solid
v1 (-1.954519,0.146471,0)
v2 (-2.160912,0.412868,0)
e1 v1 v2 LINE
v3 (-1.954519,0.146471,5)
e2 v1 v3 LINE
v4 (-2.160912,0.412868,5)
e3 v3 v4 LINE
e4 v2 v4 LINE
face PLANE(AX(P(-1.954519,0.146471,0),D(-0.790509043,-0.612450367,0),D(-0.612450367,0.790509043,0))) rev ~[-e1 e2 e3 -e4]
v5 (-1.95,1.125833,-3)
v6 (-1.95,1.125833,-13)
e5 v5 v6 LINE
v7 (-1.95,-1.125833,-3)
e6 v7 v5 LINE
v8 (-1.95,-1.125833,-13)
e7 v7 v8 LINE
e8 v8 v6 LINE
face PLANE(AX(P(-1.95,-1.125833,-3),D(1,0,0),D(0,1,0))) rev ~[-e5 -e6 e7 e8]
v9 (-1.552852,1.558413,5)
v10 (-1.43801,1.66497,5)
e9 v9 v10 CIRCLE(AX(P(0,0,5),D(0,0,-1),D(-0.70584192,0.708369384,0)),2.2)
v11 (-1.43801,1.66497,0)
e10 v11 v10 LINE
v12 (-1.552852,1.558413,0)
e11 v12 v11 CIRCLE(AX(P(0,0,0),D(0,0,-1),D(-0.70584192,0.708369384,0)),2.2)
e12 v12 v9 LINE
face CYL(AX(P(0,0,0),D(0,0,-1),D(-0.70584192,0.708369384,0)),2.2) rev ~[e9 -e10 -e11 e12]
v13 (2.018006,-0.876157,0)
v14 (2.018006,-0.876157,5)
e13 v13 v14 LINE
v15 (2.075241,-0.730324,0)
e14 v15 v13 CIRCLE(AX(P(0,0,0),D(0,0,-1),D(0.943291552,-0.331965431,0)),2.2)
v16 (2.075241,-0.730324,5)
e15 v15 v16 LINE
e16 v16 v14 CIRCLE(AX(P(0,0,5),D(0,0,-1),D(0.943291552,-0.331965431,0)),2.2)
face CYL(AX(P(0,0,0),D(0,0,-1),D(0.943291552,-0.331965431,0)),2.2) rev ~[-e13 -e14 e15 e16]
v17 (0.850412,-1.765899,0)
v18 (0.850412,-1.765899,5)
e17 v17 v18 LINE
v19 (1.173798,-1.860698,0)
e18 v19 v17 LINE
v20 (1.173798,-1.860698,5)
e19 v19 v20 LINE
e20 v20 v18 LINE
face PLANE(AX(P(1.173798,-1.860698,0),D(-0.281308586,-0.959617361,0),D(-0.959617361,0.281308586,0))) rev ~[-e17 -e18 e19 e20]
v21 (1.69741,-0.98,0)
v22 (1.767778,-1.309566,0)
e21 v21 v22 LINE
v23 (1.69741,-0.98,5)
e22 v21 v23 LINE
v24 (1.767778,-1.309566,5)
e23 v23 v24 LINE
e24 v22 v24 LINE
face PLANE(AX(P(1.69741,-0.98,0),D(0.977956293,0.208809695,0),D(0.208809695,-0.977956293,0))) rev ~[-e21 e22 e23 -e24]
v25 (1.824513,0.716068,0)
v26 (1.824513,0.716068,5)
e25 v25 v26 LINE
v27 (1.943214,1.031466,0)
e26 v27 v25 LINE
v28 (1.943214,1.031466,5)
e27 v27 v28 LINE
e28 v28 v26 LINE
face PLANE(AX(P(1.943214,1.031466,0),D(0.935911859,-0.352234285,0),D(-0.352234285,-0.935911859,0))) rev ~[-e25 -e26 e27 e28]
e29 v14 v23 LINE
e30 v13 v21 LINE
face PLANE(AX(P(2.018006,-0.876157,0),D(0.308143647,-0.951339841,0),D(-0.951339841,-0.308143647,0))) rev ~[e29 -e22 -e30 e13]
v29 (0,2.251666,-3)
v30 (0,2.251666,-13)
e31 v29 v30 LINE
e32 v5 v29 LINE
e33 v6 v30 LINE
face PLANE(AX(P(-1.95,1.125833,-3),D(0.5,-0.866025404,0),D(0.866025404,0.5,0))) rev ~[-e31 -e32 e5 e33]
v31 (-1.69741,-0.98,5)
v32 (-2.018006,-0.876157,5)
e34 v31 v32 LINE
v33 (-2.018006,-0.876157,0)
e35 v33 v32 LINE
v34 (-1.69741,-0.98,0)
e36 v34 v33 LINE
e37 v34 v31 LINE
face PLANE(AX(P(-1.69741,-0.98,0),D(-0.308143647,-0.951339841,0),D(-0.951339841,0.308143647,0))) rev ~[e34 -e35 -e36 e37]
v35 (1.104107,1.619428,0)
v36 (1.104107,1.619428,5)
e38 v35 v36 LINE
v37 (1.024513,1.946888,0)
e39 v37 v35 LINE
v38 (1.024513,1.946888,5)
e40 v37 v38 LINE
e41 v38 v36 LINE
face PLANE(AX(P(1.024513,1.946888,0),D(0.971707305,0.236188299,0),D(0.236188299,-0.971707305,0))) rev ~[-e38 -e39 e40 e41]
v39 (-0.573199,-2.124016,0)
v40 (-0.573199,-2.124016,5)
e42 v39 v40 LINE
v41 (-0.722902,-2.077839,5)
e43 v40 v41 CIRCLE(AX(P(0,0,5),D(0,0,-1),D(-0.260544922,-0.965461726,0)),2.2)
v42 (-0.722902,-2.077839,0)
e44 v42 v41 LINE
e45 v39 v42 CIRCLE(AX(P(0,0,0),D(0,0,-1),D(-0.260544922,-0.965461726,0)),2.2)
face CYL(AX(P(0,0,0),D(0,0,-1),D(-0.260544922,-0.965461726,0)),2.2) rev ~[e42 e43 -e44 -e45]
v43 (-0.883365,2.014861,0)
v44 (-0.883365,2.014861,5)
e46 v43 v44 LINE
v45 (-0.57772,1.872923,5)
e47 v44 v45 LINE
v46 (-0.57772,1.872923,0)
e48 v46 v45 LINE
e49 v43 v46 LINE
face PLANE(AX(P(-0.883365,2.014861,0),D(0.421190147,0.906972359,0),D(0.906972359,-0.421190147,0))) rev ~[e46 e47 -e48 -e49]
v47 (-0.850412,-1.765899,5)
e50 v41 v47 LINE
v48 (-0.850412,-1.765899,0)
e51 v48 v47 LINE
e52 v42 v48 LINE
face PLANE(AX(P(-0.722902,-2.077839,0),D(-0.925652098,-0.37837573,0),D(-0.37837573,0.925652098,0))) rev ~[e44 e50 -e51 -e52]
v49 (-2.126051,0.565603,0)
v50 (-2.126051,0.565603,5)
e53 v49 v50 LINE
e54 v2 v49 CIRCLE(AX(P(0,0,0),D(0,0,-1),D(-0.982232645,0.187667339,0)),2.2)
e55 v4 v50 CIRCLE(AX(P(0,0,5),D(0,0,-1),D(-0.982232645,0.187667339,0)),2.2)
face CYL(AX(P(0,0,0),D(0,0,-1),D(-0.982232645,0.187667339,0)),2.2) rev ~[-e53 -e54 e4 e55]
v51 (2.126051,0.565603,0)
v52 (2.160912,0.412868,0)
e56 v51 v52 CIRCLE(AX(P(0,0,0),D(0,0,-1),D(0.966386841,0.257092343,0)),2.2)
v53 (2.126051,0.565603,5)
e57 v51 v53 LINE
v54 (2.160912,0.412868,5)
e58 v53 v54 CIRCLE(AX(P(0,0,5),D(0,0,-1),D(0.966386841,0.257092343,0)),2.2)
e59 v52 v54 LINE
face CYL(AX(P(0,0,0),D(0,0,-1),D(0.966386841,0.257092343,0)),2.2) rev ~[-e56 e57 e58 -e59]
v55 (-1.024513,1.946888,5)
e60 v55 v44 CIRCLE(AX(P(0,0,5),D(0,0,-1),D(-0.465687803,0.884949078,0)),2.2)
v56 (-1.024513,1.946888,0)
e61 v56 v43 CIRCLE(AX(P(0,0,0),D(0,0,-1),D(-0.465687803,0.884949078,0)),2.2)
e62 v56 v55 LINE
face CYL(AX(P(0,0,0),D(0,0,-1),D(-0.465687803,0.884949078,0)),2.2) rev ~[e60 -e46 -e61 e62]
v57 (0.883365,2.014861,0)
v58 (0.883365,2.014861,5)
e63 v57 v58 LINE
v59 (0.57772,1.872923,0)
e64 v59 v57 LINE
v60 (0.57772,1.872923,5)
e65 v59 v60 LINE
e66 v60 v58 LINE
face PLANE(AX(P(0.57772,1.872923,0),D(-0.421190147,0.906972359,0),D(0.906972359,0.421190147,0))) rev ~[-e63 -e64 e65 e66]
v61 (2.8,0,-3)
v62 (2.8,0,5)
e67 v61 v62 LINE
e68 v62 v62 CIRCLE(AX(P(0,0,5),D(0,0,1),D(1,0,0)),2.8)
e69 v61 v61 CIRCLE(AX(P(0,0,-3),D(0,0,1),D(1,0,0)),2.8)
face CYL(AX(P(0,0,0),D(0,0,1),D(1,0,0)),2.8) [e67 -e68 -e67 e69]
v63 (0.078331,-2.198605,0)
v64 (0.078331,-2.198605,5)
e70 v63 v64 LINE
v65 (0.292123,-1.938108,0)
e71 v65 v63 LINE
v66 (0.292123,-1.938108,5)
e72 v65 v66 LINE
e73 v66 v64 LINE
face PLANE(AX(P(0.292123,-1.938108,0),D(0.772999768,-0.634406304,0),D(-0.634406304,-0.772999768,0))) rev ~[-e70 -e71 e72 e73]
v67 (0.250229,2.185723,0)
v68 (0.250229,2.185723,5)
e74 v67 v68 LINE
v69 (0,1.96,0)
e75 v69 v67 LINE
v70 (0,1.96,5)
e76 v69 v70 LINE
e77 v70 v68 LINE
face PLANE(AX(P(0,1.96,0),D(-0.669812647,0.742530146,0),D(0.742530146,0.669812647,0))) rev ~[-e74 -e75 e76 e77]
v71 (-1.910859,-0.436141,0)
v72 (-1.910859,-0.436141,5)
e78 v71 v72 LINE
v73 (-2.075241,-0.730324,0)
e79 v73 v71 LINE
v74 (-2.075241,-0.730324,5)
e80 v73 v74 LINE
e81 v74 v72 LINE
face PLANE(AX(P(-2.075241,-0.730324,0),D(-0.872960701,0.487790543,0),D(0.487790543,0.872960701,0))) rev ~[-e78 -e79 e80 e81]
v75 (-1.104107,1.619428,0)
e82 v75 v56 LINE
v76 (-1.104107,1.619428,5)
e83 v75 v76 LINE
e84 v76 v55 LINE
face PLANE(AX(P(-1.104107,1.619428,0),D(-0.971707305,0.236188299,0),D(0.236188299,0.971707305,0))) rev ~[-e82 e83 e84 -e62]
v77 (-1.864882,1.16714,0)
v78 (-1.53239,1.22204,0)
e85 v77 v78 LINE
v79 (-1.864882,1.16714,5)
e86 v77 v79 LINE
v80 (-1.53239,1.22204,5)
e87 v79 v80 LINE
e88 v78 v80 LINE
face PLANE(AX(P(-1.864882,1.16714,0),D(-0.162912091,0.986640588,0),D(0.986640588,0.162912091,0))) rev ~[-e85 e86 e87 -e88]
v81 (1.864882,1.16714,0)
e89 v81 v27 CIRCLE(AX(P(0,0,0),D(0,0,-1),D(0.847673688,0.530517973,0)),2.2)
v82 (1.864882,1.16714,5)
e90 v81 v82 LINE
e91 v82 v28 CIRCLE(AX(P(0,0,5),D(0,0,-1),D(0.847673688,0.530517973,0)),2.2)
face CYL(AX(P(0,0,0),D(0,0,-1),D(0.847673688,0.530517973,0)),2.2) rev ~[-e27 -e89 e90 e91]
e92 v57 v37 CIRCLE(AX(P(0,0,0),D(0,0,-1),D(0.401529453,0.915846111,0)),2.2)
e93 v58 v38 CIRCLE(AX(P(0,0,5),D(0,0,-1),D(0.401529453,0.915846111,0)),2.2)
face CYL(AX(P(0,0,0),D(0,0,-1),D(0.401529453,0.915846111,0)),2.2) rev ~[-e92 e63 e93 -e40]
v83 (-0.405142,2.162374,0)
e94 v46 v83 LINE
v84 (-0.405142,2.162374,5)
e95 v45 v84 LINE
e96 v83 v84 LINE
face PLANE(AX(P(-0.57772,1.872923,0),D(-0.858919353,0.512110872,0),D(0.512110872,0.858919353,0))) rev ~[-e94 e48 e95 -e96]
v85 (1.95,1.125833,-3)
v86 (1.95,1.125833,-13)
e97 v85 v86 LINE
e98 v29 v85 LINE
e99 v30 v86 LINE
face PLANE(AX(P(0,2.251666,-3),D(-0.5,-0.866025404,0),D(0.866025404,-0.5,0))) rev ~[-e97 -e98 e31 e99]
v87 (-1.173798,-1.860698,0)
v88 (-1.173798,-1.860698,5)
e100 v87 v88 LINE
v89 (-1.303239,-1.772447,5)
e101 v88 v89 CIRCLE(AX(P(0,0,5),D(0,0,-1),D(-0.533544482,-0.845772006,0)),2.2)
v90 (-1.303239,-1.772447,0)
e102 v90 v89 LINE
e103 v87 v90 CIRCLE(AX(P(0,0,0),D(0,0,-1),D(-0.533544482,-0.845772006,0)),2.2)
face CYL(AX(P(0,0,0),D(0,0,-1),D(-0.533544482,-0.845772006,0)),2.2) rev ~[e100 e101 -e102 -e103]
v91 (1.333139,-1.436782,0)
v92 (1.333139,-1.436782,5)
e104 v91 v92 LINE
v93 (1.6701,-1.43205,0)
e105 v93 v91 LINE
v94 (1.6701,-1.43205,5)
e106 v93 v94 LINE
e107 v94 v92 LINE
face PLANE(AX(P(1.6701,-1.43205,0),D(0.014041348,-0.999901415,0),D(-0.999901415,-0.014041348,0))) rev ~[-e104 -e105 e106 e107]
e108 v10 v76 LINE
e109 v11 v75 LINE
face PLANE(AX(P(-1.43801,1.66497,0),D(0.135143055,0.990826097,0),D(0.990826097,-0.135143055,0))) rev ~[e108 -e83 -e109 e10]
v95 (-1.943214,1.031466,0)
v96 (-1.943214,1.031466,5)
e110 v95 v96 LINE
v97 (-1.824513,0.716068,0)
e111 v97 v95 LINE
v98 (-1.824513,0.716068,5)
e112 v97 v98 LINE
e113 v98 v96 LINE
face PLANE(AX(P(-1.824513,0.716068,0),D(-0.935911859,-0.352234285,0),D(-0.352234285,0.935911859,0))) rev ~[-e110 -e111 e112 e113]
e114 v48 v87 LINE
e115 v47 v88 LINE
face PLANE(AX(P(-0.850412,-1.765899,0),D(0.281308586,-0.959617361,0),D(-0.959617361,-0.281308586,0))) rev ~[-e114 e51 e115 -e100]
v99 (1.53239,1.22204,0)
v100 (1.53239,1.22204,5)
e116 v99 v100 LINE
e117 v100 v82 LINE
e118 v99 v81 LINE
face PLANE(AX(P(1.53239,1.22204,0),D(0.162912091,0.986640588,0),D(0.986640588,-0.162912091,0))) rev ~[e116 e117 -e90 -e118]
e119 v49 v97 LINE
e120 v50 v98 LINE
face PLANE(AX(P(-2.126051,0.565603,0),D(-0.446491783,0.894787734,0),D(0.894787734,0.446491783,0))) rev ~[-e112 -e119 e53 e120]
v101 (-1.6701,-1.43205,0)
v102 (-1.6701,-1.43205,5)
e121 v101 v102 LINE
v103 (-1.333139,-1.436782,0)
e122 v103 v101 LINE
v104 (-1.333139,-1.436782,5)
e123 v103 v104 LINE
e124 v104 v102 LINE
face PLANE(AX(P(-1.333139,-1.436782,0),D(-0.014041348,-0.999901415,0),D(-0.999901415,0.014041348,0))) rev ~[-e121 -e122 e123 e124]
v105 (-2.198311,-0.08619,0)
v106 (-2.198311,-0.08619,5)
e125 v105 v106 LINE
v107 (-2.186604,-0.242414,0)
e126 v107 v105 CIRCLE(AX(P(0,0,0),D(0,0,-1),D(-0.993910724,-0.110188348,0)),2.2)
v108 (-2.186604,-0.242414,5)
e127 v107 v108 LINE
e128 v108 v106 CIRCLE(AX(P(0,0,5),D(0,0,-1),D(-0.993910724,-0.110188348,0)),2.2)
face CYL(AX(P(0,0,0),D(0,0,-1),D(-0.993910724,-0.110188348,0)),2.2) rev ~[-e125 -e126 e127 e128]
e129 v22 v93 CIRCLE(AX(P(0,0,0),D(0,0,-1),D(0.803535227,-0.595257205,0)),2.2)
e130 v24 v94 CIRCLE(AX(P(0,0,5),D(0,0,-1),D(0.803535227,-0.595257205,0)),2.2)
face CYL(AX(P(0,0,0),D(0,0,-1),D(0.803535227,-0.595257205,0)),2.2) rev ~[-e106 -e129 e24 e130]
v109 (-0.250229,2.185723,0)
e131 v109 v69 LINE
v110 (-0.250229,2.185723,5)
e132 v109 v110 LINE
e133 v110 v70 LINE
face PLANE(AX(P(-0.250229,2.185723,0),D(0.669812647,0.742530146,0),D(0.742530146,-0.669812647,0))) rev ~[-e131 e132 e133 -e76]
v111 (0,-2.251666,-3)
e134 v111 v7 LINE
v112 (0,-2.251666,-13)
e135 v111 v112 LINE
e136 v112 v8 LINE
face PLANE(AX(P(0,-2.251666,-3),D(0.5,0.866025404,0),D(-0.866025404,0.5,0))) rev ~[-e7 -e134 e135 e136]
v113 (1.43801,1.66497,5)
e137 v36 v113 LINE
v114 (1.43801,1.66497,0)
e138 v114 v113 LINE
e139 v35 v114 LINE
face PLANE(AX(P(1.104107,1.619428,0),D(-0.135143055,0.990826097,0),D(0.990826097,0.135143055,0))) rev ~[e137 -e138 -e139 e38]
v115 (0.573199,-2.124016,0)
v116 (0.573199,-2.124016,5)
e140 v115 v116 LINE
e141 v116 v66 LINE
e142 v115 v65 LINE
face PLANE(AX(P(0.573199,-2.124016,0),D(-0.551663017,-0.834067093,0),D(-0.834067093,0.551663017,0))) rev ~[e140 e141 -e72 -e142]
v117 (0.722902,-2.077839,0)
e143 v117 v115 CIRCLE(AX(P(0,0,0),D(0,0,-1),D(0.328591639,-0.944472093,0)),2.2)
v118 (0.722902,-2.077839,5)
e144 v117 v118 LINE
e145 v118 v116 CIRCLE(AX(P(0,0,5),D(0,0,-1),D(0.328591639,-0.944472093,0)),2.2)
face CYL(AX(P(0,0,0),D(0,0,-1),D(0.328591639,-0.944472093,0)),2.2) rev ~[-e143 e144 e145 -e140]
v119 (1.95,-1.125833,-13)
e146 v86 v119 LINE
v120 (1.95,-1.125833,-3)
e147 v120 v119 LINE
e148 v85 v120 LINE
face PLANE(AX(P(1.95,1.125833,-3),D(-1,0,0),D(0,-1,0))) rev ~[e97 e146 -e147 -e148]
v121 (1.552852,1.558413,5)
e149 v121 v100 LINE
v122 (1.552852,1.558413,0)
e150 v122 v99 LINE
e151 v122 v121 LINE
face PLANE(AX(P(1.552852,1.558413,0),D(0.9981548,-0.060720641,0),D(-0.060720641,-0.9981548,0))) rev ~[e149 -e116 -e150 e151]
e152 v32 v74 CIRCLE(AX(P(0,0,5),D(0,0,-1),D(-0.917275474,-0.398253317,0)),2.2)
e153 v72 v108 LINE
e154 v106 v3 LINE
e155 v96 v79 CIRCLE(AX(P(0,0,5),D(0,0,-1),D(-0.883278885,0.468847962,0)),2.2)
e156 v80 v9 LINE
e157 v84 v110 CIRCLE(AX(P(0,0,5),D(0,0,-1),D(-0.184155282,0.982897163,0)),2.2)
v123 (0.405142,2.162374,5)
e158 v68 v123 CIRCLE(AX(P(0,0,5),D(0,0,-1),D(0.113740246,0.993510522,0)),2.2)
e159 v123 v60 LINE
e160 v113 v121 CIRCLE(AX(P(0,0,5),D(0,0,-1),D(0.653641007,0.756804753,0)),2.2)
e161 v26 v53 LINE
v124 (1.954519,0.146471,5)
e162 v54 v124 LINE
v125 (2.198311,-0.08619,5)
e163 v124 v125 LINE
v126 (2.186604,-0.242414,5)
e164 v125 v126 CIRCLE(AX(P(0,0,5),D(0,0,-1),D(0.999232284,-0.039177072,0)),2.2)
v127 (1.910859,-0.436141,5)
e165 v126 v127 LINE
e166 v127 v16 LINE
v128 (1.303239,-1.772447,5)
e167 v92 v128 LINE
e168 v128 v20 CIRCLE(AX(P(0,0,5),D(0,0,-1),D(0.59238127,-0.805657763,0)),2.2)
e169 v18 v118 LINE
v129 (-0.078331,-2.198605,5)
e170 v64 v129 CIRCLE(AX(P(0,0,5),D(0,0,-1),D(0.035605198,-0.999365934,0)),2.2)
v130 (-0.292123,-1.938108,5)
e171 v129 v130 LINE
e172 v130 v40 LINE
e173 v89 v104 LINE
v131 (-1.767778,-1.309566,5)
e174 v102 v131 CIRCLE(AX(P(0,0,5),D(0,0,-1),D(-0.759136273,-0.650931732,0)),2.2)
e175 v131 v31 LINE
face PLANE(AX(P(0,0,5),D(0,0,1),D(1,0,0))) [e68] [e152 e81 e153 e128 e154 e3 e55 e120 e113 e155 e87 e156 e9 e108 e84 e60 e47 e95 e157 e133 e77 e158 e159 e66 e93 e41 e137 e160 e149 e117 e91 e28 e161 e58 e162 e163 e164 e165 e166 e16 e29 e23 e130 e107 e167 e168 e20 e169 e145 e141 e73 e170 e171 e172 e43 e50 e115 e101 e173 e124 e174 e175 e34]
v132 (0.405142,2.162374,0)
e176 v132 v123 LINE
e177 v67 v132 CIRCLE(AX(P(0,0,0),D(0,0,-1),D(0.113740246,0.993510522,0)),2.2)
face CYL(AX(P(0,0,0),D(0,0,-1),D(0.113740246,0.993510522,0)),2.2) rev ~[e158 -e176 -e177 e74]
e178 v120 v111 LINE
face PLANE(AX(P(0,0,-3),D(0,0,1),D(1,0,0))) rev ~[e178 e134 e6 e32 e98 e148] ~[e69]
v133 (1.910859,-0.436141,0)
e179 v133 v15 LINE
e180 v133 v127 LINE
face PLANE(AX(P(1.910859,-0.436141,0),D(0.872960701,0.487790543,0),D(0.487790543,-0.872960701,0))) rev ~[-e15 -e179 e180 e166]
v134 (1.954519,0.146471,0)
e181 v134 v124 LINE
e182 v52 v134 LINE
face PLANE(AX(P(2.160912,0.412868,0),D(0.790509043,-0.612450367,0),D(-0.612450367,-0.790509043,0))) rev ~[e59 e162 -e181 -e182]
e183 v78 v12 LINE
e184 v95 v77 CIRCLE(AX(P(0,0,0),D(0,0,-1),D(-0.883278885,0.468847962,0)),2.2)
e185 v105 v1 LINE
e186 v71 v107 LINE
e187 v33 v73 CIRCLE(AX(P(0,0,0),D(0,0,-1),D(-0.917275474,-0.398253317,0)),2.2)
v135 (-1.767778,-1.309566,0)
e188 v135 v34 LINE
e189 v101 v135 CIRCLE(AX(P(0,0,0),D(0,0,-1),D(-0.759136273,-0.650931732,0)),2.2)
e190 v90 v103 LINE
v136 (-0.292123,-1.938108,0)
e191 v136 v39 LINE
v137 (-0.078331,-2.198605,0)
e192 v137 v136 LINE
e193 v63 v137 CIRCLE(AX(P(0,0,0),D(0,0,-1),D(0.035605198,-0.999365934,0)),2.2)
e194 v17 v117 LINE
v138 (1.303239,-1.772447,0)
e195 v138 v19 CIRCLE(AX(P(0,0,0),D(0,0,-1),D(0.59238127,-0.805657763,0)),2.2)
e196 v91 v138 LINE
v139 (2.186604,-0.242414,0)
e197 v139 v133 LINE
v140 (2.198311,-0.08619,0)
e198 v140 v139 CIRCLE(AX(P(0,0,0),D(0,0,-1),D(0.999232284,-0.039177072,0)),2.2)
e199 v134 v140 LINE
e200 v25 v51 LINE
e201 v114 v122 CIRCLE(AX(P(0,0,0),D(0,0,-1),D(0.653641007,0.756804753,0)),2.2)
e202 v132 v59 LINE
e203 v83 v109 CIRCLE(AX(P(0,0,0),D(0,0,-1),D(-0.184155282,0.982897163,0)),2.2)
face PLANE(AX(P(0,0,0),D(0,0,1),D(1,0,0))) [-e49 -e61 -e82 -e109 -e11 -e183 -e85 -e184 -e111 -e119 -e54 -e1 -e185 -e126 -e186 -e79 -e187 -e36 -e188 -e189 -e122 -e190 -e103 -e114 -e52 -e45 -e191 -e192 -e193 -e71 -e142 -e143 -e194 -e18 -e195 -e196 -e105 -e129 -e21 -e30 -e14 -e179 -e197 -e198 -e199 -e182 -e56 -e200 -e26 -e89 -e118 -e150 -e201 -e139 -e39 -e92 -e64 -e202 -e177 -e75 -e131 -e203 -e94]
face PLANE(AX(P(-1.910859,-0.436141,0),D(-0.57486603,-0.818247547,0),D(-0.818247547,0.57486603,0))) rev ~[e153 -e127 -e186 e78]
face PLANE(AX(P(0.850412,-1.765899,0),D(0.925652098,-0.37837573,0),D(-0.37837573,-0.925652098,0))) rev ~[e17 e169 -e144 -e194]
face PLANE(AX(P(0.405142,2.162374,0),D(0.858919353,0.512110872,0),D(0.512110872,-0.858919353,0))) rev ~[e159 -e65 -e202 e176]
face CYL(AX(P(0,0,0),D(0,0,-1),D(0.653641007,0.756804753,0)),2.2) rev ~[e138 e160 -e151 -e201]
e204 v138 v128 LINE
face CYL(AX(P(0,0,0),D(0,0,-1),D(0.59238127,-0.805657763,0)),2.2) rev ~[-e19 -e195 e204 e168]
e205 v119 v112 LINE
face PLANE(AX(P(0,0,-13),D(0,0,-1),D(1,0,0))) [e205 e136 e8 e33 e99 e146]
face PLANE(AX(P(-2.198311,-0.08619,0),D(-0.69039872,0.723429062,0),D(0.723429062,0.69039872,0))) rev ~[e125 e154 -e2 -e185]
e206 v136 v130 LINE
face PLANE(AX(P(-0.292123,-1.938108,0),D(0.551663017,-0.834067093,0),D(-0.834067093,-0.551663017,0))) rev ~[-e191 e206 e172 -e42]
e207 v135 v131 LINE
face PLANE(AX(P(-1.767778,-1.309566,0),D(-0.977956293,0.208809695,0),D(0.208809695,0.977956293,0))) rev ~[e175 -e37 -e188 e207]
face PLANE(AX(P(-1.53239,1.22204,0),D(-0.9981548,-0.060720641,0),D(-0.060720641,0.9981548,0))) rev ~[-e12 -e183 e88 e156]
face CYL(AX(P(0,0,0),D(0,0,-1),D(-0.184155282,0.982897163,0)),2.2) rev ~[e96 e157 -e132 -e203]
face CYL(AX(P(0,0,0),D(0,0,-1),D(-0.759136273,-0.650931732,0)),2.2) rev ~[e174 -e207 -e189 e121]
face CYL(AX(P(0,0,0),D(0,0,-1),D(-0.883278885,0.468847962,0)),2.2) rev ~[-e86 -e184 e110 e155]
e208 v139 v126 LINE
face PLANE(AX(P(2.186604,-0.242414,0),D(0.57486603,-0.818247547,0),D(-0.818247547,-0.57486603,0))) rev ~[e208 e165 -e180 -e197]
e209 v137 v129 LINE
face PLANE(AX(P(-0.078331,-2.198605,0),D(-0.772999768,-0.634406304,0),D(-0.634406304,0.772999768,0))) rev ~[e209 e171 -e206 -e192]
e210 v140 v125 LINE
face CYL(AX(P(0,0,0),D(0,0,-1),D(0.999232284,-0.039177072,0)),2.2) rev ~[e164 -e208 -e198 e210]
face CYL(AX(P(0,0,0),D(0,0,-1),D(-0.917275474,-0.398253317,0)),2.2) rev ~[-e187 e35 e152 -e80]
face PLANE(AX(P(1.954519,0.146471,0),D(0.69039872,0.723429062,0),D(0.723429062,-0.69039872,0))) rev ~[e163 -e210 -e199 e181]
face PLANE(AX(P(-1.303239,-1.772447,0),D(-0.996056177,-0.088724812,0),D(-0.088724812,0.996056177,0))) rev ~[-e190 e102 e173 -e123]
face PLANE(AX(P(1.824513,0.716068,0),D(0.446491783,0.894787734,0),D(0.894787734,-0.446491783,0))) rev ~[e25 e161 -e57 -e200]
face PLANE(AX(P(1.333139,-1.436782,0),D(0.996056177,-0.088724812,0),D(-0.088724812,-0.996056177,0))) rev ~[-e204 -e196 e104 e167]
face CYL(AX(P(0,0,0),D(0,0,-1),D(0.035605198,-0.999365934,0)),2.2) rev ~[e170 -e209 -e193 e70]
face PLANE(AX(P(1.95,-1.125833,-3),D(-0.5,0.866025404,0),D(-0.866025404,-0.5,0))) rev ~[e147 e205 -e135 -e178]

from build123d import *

# Parameters (mm, degrees)
F0_R     = 2.8
F1_DEPTH = 5
F2_DEPTH = 3
F4_DEPTH = 10


with BuildPart() as f1:
    # F0 (on Top) → F1 (new body)
    with BuildSketch(Plane.XY):
        Circle(F0_R)
        with BuildLine():
            ThreePointArc((-0.4051416179, 2.162373758), (-0.3278929856, 2.1754278177), (-0.2502285416, 2.1857231474))
            Line((-0.2502285416, 2.1857231474), (0, 1.96))
            Line((0, 1.96), (0.2502285416, 2.1857231474))
            ThreePointArc((0.2502285416, 2.1857231474), (0.3278929856, 2.1754278177), (0.4051416179, 2.162373758))
            Line((0.4051416179, 2.162373758), (0.5777201418, 1.8729226993))
            Line((0.5777201418, 1.8729226993), (0.8833647971, 2.0148614432))
            ThreePointArc((0.8833647971, 2.0148614432), (0.9545442261, 1.9821315094), (1.0245131668, 1.9468879709))
            Line((1.0245131668, 1.9468879709), (1.1041073138, 1.6194279977))
            Line((1.1041073138, 1.6194279977), (1.4380102138, 1.6649704577))
            ThreePointArc((1.4380102138, 1.6649704577), (1.4963800231, 1.612714118), (1.5528522248, 1.5584126437))
            Line((1.5528522248, 1.5584126437), (1.5323897056, 1.2220400116))
            Line((1.5323897056, 1.2220400116), (1.8648821124, 1.1671395404))
            ThreePointArc((1.8648821124, 1.1671395404), (1.9052558883, 1.1), (1.943213548, 1.0314655142))
            Line((1.943213548, 1.0314655142), (1.8245125473, 0.7160684078))
            Line((1.8245125473, 0.7160684078), (2.1260510514, 0.5656031531))
            ThreePointArc((2.1260510514, 0.5656031531), (2.1448414068, 0.4895460547), (2.1609118198, 0.4128681472))
            Line((2.1609118198, 0.4128681472), (1.9545194425, 0.1464709834))
            Line((1.9545194425, 0.1464709834), (2.1983110245, -0.0861895565))
            ThreePointArc((2.1983110245, -0.0861895565), (2.1938483538, -0.1644062059), (2.1866035935, -0.2424143665))
            Line((2.1866035935, -0.2424143665), (1.9108587079, -0.4361410306))
            Line((1.9108587079, -0.4361410306), (2.0752414159, -0.7303239458))
            ThreePointArc((2.0752414159, -0.7303239458), (2.047922247, -0.8037502536), (2.0180060421, -0.8761572999))
            Line((2.0180060421, -0.8761572999), (1.6974097914, -0.98))
            Line((1.6974097914, -0.98), (1.7677775005, -1.3095658475))
            ThreePointArc((1.7677775005, -1.3095658475), (1.7200292614, -1.3716775641), (1.670099798, -1.4320498123))
            Line((1.670099798, -1.4320498123), (1.333138566, -1.4367816688))
            Line((1.333138566, -1.4367816688), (1.3032387964, -1.7724470767))
            ThreePointArc((1.3032387964, -1.7724470767), (1.2393041277, -1.8177253035), (1.1737978577, -1.8606984144))
            Line((1.1737978577, -1.8606984144), (0.8504121287, -1.7658989811))
            Line((0.8504121287, -1.7658989811), (0.722901606, -2.0778386049))
            ThreePointArc((0.722901606, -2.0778386049), (0.6484613837, -2.1022601727), (0.5731988267, -2.1240157968))
            Line((0.5731988267, -2.1240157968), (0.2921228417, -1.9381084194))
            Line((0.2921228417, -1.9381084194), (0.0783314356, -2.1986050546))
            ThreePointArc((0.0783314356, -2.1986050546), (0, -2.2), (-0.0783314356, -2.1986050546))
            Line((-0.0783314356, -2.1986050546), (-0.2921228417, -1.9381084194))
            Line((-0.2921228417, -1.9381084194), (-0.5731988267, -2.1240157968))
            ThreePointArc((-0.5731988267, -2.1240157968), (-0.6484613837, -2.1022601727), (-0.722901606, -2.0778386049))
            Line((-0.722901606, -2.0778386049), (-0.8504121287, -1.7658989811))
            Line((-0.8504121287, -1.7658989811), (-1.1737978577, -1.8606984144))
            ThreePointArc((-1.1737978577, -1.8606984144), (-1.2393041277, -1.8177253035), (-1.3032387964, -1.7724470767))
            Line((-1.3032387964, -1.7724470767), (-1.333138566, -1.4367816688))
            Line((-1.333138566, -1.4367816688), (-1.670099798, -1.4320498123))
            ThreePointArc((-1.670099798, -1.4320498123), (-1.7200292614, -1.3716775641), (-1.7677775005, -1.3095658475))
            Line((-1.7677775005, -1.3095658475), (-1.6974097914, -0.98))
            Line((-1.6974097914, -0.98), (-2.0180060421, -0.8761572999))
            ThreePointArc((-2.0180060421, -0.8761572999), (-2.047922247, -0.8037502536), (-2.0752414159, -0.7303239458))
            Line((-2.0752414159, -0.7303239458), (-1.9108587079, -0.4361410306))
            Line((-1.9108587079, -0.4361410306), (-2.1866035935, -0.2424143665))
            ThreePointArc((-2.1866035935, -0.2424143665), (-2.1938483538, -0.1644062059), (-2.1983110245, -0.0861895565))
            Line((-2.1983110245, -0.0861895565), (-1.9545194425, 0.1464709834))
            Line((-1.9545194425, 0.1464709834), (-2.1609118198, 0.4128681472))
            ThreePointArc((-2.1609118198, 0.4128681472), (-2.1448414068, 0.4895460547), (-2.1260510514, 0.5656031531))
            Line((-2.1260510514, 0.5656031531), (-1.8245125473, 0.7160684078))
            Line((-1.8245125473, 0.7160684078), (-1.943213548, 1.0314655142))
            ThreePointArc((-1.943213548, 1.0314655142), (-1.9052558883, 1.1), (-1.8648821124, 1.1671395404))
            Line((-1.8648821124, 1.1671395404), (-1.5323897056, 1.2220400116))
            Line((-1.5323897056, 1.2220400116), (-1.5528522248, 1.5584126437))
            ThreePointArc((-1.5528522248, 1.5584126437), (-1.4963800231, 1.612714118), (-1.4380102138, 1.6649704577))
            Line((-1.4380102138, 1.6649704577), (-1.1041073138, 1.6194279977))
            Line((-1.1041073138, 1.6194279977), (-1.0245131668, 1.9468879709))
            ThreePointArc((-1.0245131668, 1.9468879709), (-0.9545442261, 1.9821315094), (-0.8833647971, 2.0148614432))
            Line((-0.8833647971, 2.0148614432), (-0.5777201418, 1.8729226993))
            Line((-0.5777201418, 1.8729226993), (-0.4051416179, 2.162373758))
        make_face(mode=Mode.SUBTRACT)
    extrude(amount=F1_DEPTH)

    # F0 (on Top) → F2 (join)
    with BuildSketch(Plane.XY):
        Circle(F0_R)
        with BuildLine():
            ThreePointArc((-0.4051416179, 2.162373758), (-0.3278929856, 2.1754278177), (-0.2502285416, 2.1857231474))
            Line((-0.2502285416, 2.1857231474), (0, 1.96))
            Line((0, 1.96), (0.2502285416, 2.1857231474))
            ThreePointArc((0.2502285416, 2.1857231474), (0.3278929856, 2.1754278177), (0.4051416179, 2.162373758))
            Line((0.4051416179, 2.162373758), (0.5777201418, 1.8729226993))
            Line((0.5777201418, 1.8729226993), (0.8833647971, 2.0148614432))
            ThreePointArc((0.8833647971, 2.0148614432), (0.9545442261, 1.9821315094), (1.0245131668, 1.9468879709))
            Line((1.0245131668, 1.9468879709), (1.1041073138, 1.6194279977))
            Line((1.1041073138, 1.6194279977), (1.4380102138, 1.6649704577))
            ThreePointArc((1.4380102138, 1.6649704577), (1.4963800231, 1.612714118), (1.5528522248, 1.5584126437))
            Line((1.5528522248, 1.5584126437), (1.5323897056, 1.2220400116))
            Line((1.5323897056, 1.2220400116), (1.8648821124, 1.1671395404))
            ThreePointArc((1.8648821124, 1.1671395404), (1.9052558883, 1.1), (1.943213548, 1.0314655142))
            Line((1.943213548, 1.0314655142), (1.8245125473, 0.7160684078))
            Line((1.8245125473, 0.7160684078), (2.1260510514, 0.5656031531))
            ThreePointArc((2.1260510514, 0.5656031531), (2.1448414068, 0.4895460547), (2.1609118198, 0.4128681472))
            Line((2.1609118198, 0.4128681472), (1.9545194425, 0.1464709834))
            Line((1.9545194425, 0.1464709834), (2.1983110245, -0.0861895565))
            ThreePointArc((2.1983110245, -0.0861895565), (2.1938483538, -0.1644062059), (2.1866035935, -0.2424143665))
            Line((2.1866035935, -0.2424143665), (1.9108587079, -0.4361410306))
            Line((1.9108587079, -0.4361410306), (2.0752414159, -0.7303239458))
            ThreePointArc((2.0752414159, -0.7303239458), (2.047922247, -0.8037502536), (2.0180060421, -0.8761572999))
            Line((2.0180060421, -0.8761572999), (1.6974097914, -0.98))
            Line((1.6974097914, -0.98), (1.7677775005, -1.3095658475))
            ThreePointArc((1.7677775005, -1.3095658475), (1.7200292614, -1.3716775641), (1.670099798, -1.4320498123))
            Line((1.670099798, -1.4320498123), (1.333138566, -1.4367816688))
            Line((1.333138566, -1.4367816688), (1.3032387964, -1.7724470767))
            ThreePointArc((1.3032387964, -1.7724470767), (1.2393041277, -1.8177253035), (1.1737978577, -1.8606984144))
            Line((1.1737978577, -1.8606984144), (0.8504121287, -1.7658989811))
            Line((0.8504121287, -1.7658989811), (0.722901606, -2.0778386049))
            ThreePointArc((0.722901606, -2.0778386049), (0.6484613837, -2.1022601727), (0.5731988267, -2.1240157968))
            Line((0.5731988267, -2.1240157968), (0.2921228417, -1.9381084194))
            Line((0.2921228417, -1.9381084194), (0.0783314356, -2.1986050546))
            ThreePointArc((0.0783314356, -2.1986050546), (0, -2.2), (-0.0783314356, -2.1986050546))
            Line((-0.0783314356, -2.1986050546), (-0.2921228417, -1.9381084194))
            Line((-0.2921228417, -1.9381084194), (-0.5731988267, -2.1240157968))
            ThreePointArc((-0.5731988267, -2.1240157968), (-0.6484613837, -2.1022601727), (-0.722901606, -2.0778386049))
            Line((-0.722901606, -2.0778386049), (-0.8504121287, -1.7658989811))
            Line((-0.8504121287, -1.7658989811), (-1.1737978577, -1.8606984144))
            ThreePointArc((-1.1737978577, -1.8606984144), (-1.2393041277, -1.8177253035), (-1.3032387964, -1.7724470767))
            Line((-1.3032387964, -1.7724470767), (-1.333138566, -1.4367816688))
            Line((-1.333138566, -1.4367816688), (-1.670099798, -1.4320498123))
            ThreePointArc((-1.670099798, -1.4320498123), (-1.7200292614, -1.3716775641), (-1.7677775005, -1.3095658475))
            Line((-1.7677775005, -1.3095658475), (-1.6974097914, -0.98))
            Line((-1.6974097914, -0.98), (-2.0180060421, -0.8761572999))
            ThreePointArc((-2.0180060421, -0.8761572999), (-2.047922247, -0.8037502536), (-2.0752414159, -0.7303239458))
            Line((-2.0752414159, -0.7303239458), (-1.9108587079, -0.4361410306))
            Line((-1.9108587079, -0.4361410306), (-2.1866035935, -0.2424143665))
            ThreePointArc((-2.1866035935, -0.2424143665), (-2.1938483538, -0.1644062059), (-2.1983110245, -0.0861895565))
            Line((-2.1983110245, -0.0861895565), (-1.9545194425, 0.1464709834))
            Line((-1.9545194425, 0.1464709834), (-2.1609118198, 0.4128681472))
            ThreePointArc((-2.1609118198, 0.4128681472), (-2.1448414068, 0.4895460547), (-2.1260510514, 0.5656031531))
            Line((-2.1260510514, 0.5656031531), (-1.8245125473, 0.7160684078))
            Line((-1.8245125473, 0.7160684078), (-1.943213548, 1.0314655142))
            ThreePointArc((-1.943213548, 1.0314655142), (-1.9052558883, 1.1), (-1.8648821124, 1.1671395404))
            Line((-1.8648821124, 1.1671395404), (-1.5323897056, 1.2220400116))
            Line((-1.5323897056, 1.2220400116), (-1.5528522248, 1.5584126437))
            ThreePointArc((-1.5528522248, 1.5584126437), (-1.4963800231, 1.612714118), (-1.4380102138, 1.6649704577))
            Line((-1.4380102138, 1.6649704577), (-1.1041073138, 1.6194279977))
            Line((-1.1041073138, 1.6194279977), (-1.0245131668, 1.9468879709))
            ThreePointArc((-1.0245131668, 1.9468879709), (-0.9545442261, 1.9821315094), (-0.8833647971, 2.0148614432))
            Line((-0.8833647971, 2.0148614432), (-0.5777201418, 1.8729226993))
            Line((-0.5777201418, 1.8729226993), (-0.4051416179, 2.162373758))
        make_face(mode=Mode.SUBTRACT)
        with BuildLine():
            Line((0, 1.96), (-0.2502285416, 2.1857231474))
            ThreePointArc((-0.2502285416, 2.1857231474), (-0.3278929856, 2.1754278177), (-0.4051416179, 2.162373758))
            Line((-0.4051416179, 2.162373758), (-0.5777201418, 1.8729226993))
            Line((-0.5777201418, 1.8729226993), (-0.8833647971, 2.0148614432))
            ThreePointArc((-0.8833647971, 2.0148614432), (-0.9545442261, 1.9821315094), (-1.0245131668, 1.9468879709))
            Line((-1.0245131668, 1.9468879709), (-1.1041073138, 1.6194279977))
            Line((-1.1041073138, 1.6194279977), (-1.4380102138, 1.6649704577))
            ThreePointArc((-1.4380102138, 1.6649704577), (-1.4963800231, 1.612714118), (-1.5528522248, 1.5584126437))
            Line((-1.5528522248, 1.5584126437), (-1.5323897056, 1.2220400116))
            Line((-1.5323897056, 1.2220400116), (-1.8648821124, 1.1671395404))
            ThreePointArc((-1.8648821124, 1.1671395404), (-1.9052558883, 1.1), (-1.943213548, 1.0314655142))
            Line((-1.943213548, 1.0314655142), (-1.8245125473, 0.7160684078))
            Line((-1.8245125473, 0.7160684078), (-2.1260510514, 0.5656031531))
            ThreePointArc((-2.1260510514, 0.5656031531), (-2.1448414068, 0.4895460547), (-2.1609118198, 0.4128681472))
            Line((-2.1609118198, 0.4128681472), (-1.9545194425, 0.1464709834))
            Line((-1.9545194425, 0.1464709834), (-2.1983110245, -0.0861895565))
            ThreePointArc((-2.1983110245, -0.0861895565), (-2.1938483538, -0.1644062059), (-2.1866035935, -0.2424143665))
            Line((-2.1866035935, -0.2424143665), (-1.9108587079, -0.4361410306))
            Line((-1.9108587079, -0.4361410306), (-2.0752414159, -0.7303239458))
            ThreePointArc((-2.0752414159, -0.7303239458), (-2.047922247, -0.8037502536), (-2.0180060421, -0.8761572999))
            Line((-2.0180060421, -0.8761572999), (-1.6974097914, -0.98))
            Line((-1.6974097914, -0.98), (-1.7677775005, -1.3095658475))
            ThreePointArc((-1.7677775005, -1.3095658475), (-1.7200292614, -1.3716775641), (-1.670099798, -1.4320498123))
            Line((-1.670099798, -1.4320498123), (-1.333138566, -1.4367816688))
            Line((-1.333138566, -1.4367816688), (-1.3032387964, -1.7724470767))
            ThreePointArc((-1.3032387964, -1.7724470767), (-1.2393041277, -1.8177253035), (-1.1737978577, -1.8606984144))
            Line((-1.1737978577, -1.8606984144), (-0.8504121287, -1.7658989811))
            Line((-0.8504121287, -1.7658989811), (-0.722901606, -2.0778386049))
            ThreePointArc((-0.722901606, -2.0778386049), (-0.6484613837, -2.1022601727), (-0.5731988267, -2.1240157968))
            Line((-0.5731988267, -2.1240157968), (-0.2921228417, -1.9381084194))
            Line((-0.2921228417, -1.9381084194), (-0.0783314356, -2.1986050546))
            ThreePointArc((-0.0783314356, -2.1986050546), (0, -2.2), (0.0783314356, -2.1986050546))
            Line((0.0783314356, -2.1986050546), (0.2921228417, -1.9381084194))
            Line((0.2921228417, -1.9381084194), (0.5731988267, -2.1240157968))
            ThreePointArc((0.5731988267, -2.1240157968), (0.6484613837, -2.1022601727), (0.722901606, -2.0778386049))
            Line((0.722901606, -2.0778386049), (0.8504121287, -1.7658989811))
            Line((0.8504121287, -1.7658989811), (1.1737978577, -1.8606984144))
            ThreePointArc((1.1737978577, -1.8606984144), (1.2393041277, -1.8177253035), (1.3032387964, -1.7724470767))
            Line((1.3032387964, -1.7724470767), (1.333138566, -1.4367816688))
            Line((1.333138566, -1.4367816688), (1.670099798, -1.4320498123))
            ThreePointArc((1.670099798, -1.4320498123), (1.7200292614, -1.3716775641), (1.7677775005, -1.3095658475))
            Line((1.7677775005, -1.3095658475), (1.6974097914, -0.98))
            Line((1.6974097914, -0.98), (2.0180060421, -0.8761572999))
            ThreePointArc((2.0180060421, -0.8761572999), (2.047922247, -0.8037502536), (2.0752414159, -0.7303239458))
            Line((2.0752414159, -0.7303239458), (1.9108587079, -0.4361410306))
            Line((1.9108587079, -0.4361410306), (2.1866035935, -0.2424143665))
            ThreePointArc((2.1866035935, -0.2424143665), (2.1938483538, -0.1644062059), (2.1983110245, -0.0861895565))
            Line((2.1983110245, -0.0861895565), (1.9545194425, 0.1464709834))
            Line((1.9545194425, 0.1464709834), (2.1609118198, 0.4128681472))
            ThreePointArc((2.1609118198, 0.4128681472), (2.1448414068, 0.4895460547), (2.1260510514, 0.5656031531))
            Line((2.1260510514, 0.5656031531), (1.8245125473, 0.7160684078))
            Line((1.8245125473, 0.7160684078), (1.943213548, 1.0314655142))
            ThreePointArc((1.943213548, 1.0314655142), (1.9052558883, 1.1), (1.8648821124, 1.1671395404))
            Line((1.8648821124, 1.1671395404), (1.5323897056, 1.2220400116))
            Line((1.5323897056, 1.2220400116), (1.5528522248, 1.5584126437))
            ThreePointArc((1.5528522248, 1.5584126437), (1.4963800231, 1.612714118), (1.4380102138, 1.6649704577))
            Line((1.4380102138, 1.6649704577), (1.1041073138, 1.6194279977))
            Line((1.1041073138, 1.6194279977), (1.0245131668, 1.9468879709))
            ThreePointArc((1.0245131668, 1.9468879709), (0.9545442261, 1.9821315094), (0.8833647971, 2.0148614432))
            Line((0.8833647971, 2.0148614432), (0.5777201418, 1.8729226993))
            Line((0.5777201418, 1.8729226993), (0.4051416179, 2.162373758))
            ThreePointArc((0.4051416179, 2.162373758), (0.3278929856, 2.1754278177), (0.2502285416, 2.1857231474))
            Line((0.2502285416, 2.1857231474), (0, 1.96))
        make_face()
    extrude(amount=-F2_DEPTH)

    # F3 (on face) → F4 (join)
    with BuildSketch(Plane(origin=(0, 0, -3), x_dir=(1, 0, 0), z_dir=(0, 0, -1))):
        Polygon((1.95, -1.1258330249), (1.95, 1.1258330249), (0, 2.2516660498), (-1.95, 1.1258330249), (-1.95, -1.1258330249), (0, -2.2516660498), align=None)
    extrude(amount=F4_DEPTH)


solid = f1.part
